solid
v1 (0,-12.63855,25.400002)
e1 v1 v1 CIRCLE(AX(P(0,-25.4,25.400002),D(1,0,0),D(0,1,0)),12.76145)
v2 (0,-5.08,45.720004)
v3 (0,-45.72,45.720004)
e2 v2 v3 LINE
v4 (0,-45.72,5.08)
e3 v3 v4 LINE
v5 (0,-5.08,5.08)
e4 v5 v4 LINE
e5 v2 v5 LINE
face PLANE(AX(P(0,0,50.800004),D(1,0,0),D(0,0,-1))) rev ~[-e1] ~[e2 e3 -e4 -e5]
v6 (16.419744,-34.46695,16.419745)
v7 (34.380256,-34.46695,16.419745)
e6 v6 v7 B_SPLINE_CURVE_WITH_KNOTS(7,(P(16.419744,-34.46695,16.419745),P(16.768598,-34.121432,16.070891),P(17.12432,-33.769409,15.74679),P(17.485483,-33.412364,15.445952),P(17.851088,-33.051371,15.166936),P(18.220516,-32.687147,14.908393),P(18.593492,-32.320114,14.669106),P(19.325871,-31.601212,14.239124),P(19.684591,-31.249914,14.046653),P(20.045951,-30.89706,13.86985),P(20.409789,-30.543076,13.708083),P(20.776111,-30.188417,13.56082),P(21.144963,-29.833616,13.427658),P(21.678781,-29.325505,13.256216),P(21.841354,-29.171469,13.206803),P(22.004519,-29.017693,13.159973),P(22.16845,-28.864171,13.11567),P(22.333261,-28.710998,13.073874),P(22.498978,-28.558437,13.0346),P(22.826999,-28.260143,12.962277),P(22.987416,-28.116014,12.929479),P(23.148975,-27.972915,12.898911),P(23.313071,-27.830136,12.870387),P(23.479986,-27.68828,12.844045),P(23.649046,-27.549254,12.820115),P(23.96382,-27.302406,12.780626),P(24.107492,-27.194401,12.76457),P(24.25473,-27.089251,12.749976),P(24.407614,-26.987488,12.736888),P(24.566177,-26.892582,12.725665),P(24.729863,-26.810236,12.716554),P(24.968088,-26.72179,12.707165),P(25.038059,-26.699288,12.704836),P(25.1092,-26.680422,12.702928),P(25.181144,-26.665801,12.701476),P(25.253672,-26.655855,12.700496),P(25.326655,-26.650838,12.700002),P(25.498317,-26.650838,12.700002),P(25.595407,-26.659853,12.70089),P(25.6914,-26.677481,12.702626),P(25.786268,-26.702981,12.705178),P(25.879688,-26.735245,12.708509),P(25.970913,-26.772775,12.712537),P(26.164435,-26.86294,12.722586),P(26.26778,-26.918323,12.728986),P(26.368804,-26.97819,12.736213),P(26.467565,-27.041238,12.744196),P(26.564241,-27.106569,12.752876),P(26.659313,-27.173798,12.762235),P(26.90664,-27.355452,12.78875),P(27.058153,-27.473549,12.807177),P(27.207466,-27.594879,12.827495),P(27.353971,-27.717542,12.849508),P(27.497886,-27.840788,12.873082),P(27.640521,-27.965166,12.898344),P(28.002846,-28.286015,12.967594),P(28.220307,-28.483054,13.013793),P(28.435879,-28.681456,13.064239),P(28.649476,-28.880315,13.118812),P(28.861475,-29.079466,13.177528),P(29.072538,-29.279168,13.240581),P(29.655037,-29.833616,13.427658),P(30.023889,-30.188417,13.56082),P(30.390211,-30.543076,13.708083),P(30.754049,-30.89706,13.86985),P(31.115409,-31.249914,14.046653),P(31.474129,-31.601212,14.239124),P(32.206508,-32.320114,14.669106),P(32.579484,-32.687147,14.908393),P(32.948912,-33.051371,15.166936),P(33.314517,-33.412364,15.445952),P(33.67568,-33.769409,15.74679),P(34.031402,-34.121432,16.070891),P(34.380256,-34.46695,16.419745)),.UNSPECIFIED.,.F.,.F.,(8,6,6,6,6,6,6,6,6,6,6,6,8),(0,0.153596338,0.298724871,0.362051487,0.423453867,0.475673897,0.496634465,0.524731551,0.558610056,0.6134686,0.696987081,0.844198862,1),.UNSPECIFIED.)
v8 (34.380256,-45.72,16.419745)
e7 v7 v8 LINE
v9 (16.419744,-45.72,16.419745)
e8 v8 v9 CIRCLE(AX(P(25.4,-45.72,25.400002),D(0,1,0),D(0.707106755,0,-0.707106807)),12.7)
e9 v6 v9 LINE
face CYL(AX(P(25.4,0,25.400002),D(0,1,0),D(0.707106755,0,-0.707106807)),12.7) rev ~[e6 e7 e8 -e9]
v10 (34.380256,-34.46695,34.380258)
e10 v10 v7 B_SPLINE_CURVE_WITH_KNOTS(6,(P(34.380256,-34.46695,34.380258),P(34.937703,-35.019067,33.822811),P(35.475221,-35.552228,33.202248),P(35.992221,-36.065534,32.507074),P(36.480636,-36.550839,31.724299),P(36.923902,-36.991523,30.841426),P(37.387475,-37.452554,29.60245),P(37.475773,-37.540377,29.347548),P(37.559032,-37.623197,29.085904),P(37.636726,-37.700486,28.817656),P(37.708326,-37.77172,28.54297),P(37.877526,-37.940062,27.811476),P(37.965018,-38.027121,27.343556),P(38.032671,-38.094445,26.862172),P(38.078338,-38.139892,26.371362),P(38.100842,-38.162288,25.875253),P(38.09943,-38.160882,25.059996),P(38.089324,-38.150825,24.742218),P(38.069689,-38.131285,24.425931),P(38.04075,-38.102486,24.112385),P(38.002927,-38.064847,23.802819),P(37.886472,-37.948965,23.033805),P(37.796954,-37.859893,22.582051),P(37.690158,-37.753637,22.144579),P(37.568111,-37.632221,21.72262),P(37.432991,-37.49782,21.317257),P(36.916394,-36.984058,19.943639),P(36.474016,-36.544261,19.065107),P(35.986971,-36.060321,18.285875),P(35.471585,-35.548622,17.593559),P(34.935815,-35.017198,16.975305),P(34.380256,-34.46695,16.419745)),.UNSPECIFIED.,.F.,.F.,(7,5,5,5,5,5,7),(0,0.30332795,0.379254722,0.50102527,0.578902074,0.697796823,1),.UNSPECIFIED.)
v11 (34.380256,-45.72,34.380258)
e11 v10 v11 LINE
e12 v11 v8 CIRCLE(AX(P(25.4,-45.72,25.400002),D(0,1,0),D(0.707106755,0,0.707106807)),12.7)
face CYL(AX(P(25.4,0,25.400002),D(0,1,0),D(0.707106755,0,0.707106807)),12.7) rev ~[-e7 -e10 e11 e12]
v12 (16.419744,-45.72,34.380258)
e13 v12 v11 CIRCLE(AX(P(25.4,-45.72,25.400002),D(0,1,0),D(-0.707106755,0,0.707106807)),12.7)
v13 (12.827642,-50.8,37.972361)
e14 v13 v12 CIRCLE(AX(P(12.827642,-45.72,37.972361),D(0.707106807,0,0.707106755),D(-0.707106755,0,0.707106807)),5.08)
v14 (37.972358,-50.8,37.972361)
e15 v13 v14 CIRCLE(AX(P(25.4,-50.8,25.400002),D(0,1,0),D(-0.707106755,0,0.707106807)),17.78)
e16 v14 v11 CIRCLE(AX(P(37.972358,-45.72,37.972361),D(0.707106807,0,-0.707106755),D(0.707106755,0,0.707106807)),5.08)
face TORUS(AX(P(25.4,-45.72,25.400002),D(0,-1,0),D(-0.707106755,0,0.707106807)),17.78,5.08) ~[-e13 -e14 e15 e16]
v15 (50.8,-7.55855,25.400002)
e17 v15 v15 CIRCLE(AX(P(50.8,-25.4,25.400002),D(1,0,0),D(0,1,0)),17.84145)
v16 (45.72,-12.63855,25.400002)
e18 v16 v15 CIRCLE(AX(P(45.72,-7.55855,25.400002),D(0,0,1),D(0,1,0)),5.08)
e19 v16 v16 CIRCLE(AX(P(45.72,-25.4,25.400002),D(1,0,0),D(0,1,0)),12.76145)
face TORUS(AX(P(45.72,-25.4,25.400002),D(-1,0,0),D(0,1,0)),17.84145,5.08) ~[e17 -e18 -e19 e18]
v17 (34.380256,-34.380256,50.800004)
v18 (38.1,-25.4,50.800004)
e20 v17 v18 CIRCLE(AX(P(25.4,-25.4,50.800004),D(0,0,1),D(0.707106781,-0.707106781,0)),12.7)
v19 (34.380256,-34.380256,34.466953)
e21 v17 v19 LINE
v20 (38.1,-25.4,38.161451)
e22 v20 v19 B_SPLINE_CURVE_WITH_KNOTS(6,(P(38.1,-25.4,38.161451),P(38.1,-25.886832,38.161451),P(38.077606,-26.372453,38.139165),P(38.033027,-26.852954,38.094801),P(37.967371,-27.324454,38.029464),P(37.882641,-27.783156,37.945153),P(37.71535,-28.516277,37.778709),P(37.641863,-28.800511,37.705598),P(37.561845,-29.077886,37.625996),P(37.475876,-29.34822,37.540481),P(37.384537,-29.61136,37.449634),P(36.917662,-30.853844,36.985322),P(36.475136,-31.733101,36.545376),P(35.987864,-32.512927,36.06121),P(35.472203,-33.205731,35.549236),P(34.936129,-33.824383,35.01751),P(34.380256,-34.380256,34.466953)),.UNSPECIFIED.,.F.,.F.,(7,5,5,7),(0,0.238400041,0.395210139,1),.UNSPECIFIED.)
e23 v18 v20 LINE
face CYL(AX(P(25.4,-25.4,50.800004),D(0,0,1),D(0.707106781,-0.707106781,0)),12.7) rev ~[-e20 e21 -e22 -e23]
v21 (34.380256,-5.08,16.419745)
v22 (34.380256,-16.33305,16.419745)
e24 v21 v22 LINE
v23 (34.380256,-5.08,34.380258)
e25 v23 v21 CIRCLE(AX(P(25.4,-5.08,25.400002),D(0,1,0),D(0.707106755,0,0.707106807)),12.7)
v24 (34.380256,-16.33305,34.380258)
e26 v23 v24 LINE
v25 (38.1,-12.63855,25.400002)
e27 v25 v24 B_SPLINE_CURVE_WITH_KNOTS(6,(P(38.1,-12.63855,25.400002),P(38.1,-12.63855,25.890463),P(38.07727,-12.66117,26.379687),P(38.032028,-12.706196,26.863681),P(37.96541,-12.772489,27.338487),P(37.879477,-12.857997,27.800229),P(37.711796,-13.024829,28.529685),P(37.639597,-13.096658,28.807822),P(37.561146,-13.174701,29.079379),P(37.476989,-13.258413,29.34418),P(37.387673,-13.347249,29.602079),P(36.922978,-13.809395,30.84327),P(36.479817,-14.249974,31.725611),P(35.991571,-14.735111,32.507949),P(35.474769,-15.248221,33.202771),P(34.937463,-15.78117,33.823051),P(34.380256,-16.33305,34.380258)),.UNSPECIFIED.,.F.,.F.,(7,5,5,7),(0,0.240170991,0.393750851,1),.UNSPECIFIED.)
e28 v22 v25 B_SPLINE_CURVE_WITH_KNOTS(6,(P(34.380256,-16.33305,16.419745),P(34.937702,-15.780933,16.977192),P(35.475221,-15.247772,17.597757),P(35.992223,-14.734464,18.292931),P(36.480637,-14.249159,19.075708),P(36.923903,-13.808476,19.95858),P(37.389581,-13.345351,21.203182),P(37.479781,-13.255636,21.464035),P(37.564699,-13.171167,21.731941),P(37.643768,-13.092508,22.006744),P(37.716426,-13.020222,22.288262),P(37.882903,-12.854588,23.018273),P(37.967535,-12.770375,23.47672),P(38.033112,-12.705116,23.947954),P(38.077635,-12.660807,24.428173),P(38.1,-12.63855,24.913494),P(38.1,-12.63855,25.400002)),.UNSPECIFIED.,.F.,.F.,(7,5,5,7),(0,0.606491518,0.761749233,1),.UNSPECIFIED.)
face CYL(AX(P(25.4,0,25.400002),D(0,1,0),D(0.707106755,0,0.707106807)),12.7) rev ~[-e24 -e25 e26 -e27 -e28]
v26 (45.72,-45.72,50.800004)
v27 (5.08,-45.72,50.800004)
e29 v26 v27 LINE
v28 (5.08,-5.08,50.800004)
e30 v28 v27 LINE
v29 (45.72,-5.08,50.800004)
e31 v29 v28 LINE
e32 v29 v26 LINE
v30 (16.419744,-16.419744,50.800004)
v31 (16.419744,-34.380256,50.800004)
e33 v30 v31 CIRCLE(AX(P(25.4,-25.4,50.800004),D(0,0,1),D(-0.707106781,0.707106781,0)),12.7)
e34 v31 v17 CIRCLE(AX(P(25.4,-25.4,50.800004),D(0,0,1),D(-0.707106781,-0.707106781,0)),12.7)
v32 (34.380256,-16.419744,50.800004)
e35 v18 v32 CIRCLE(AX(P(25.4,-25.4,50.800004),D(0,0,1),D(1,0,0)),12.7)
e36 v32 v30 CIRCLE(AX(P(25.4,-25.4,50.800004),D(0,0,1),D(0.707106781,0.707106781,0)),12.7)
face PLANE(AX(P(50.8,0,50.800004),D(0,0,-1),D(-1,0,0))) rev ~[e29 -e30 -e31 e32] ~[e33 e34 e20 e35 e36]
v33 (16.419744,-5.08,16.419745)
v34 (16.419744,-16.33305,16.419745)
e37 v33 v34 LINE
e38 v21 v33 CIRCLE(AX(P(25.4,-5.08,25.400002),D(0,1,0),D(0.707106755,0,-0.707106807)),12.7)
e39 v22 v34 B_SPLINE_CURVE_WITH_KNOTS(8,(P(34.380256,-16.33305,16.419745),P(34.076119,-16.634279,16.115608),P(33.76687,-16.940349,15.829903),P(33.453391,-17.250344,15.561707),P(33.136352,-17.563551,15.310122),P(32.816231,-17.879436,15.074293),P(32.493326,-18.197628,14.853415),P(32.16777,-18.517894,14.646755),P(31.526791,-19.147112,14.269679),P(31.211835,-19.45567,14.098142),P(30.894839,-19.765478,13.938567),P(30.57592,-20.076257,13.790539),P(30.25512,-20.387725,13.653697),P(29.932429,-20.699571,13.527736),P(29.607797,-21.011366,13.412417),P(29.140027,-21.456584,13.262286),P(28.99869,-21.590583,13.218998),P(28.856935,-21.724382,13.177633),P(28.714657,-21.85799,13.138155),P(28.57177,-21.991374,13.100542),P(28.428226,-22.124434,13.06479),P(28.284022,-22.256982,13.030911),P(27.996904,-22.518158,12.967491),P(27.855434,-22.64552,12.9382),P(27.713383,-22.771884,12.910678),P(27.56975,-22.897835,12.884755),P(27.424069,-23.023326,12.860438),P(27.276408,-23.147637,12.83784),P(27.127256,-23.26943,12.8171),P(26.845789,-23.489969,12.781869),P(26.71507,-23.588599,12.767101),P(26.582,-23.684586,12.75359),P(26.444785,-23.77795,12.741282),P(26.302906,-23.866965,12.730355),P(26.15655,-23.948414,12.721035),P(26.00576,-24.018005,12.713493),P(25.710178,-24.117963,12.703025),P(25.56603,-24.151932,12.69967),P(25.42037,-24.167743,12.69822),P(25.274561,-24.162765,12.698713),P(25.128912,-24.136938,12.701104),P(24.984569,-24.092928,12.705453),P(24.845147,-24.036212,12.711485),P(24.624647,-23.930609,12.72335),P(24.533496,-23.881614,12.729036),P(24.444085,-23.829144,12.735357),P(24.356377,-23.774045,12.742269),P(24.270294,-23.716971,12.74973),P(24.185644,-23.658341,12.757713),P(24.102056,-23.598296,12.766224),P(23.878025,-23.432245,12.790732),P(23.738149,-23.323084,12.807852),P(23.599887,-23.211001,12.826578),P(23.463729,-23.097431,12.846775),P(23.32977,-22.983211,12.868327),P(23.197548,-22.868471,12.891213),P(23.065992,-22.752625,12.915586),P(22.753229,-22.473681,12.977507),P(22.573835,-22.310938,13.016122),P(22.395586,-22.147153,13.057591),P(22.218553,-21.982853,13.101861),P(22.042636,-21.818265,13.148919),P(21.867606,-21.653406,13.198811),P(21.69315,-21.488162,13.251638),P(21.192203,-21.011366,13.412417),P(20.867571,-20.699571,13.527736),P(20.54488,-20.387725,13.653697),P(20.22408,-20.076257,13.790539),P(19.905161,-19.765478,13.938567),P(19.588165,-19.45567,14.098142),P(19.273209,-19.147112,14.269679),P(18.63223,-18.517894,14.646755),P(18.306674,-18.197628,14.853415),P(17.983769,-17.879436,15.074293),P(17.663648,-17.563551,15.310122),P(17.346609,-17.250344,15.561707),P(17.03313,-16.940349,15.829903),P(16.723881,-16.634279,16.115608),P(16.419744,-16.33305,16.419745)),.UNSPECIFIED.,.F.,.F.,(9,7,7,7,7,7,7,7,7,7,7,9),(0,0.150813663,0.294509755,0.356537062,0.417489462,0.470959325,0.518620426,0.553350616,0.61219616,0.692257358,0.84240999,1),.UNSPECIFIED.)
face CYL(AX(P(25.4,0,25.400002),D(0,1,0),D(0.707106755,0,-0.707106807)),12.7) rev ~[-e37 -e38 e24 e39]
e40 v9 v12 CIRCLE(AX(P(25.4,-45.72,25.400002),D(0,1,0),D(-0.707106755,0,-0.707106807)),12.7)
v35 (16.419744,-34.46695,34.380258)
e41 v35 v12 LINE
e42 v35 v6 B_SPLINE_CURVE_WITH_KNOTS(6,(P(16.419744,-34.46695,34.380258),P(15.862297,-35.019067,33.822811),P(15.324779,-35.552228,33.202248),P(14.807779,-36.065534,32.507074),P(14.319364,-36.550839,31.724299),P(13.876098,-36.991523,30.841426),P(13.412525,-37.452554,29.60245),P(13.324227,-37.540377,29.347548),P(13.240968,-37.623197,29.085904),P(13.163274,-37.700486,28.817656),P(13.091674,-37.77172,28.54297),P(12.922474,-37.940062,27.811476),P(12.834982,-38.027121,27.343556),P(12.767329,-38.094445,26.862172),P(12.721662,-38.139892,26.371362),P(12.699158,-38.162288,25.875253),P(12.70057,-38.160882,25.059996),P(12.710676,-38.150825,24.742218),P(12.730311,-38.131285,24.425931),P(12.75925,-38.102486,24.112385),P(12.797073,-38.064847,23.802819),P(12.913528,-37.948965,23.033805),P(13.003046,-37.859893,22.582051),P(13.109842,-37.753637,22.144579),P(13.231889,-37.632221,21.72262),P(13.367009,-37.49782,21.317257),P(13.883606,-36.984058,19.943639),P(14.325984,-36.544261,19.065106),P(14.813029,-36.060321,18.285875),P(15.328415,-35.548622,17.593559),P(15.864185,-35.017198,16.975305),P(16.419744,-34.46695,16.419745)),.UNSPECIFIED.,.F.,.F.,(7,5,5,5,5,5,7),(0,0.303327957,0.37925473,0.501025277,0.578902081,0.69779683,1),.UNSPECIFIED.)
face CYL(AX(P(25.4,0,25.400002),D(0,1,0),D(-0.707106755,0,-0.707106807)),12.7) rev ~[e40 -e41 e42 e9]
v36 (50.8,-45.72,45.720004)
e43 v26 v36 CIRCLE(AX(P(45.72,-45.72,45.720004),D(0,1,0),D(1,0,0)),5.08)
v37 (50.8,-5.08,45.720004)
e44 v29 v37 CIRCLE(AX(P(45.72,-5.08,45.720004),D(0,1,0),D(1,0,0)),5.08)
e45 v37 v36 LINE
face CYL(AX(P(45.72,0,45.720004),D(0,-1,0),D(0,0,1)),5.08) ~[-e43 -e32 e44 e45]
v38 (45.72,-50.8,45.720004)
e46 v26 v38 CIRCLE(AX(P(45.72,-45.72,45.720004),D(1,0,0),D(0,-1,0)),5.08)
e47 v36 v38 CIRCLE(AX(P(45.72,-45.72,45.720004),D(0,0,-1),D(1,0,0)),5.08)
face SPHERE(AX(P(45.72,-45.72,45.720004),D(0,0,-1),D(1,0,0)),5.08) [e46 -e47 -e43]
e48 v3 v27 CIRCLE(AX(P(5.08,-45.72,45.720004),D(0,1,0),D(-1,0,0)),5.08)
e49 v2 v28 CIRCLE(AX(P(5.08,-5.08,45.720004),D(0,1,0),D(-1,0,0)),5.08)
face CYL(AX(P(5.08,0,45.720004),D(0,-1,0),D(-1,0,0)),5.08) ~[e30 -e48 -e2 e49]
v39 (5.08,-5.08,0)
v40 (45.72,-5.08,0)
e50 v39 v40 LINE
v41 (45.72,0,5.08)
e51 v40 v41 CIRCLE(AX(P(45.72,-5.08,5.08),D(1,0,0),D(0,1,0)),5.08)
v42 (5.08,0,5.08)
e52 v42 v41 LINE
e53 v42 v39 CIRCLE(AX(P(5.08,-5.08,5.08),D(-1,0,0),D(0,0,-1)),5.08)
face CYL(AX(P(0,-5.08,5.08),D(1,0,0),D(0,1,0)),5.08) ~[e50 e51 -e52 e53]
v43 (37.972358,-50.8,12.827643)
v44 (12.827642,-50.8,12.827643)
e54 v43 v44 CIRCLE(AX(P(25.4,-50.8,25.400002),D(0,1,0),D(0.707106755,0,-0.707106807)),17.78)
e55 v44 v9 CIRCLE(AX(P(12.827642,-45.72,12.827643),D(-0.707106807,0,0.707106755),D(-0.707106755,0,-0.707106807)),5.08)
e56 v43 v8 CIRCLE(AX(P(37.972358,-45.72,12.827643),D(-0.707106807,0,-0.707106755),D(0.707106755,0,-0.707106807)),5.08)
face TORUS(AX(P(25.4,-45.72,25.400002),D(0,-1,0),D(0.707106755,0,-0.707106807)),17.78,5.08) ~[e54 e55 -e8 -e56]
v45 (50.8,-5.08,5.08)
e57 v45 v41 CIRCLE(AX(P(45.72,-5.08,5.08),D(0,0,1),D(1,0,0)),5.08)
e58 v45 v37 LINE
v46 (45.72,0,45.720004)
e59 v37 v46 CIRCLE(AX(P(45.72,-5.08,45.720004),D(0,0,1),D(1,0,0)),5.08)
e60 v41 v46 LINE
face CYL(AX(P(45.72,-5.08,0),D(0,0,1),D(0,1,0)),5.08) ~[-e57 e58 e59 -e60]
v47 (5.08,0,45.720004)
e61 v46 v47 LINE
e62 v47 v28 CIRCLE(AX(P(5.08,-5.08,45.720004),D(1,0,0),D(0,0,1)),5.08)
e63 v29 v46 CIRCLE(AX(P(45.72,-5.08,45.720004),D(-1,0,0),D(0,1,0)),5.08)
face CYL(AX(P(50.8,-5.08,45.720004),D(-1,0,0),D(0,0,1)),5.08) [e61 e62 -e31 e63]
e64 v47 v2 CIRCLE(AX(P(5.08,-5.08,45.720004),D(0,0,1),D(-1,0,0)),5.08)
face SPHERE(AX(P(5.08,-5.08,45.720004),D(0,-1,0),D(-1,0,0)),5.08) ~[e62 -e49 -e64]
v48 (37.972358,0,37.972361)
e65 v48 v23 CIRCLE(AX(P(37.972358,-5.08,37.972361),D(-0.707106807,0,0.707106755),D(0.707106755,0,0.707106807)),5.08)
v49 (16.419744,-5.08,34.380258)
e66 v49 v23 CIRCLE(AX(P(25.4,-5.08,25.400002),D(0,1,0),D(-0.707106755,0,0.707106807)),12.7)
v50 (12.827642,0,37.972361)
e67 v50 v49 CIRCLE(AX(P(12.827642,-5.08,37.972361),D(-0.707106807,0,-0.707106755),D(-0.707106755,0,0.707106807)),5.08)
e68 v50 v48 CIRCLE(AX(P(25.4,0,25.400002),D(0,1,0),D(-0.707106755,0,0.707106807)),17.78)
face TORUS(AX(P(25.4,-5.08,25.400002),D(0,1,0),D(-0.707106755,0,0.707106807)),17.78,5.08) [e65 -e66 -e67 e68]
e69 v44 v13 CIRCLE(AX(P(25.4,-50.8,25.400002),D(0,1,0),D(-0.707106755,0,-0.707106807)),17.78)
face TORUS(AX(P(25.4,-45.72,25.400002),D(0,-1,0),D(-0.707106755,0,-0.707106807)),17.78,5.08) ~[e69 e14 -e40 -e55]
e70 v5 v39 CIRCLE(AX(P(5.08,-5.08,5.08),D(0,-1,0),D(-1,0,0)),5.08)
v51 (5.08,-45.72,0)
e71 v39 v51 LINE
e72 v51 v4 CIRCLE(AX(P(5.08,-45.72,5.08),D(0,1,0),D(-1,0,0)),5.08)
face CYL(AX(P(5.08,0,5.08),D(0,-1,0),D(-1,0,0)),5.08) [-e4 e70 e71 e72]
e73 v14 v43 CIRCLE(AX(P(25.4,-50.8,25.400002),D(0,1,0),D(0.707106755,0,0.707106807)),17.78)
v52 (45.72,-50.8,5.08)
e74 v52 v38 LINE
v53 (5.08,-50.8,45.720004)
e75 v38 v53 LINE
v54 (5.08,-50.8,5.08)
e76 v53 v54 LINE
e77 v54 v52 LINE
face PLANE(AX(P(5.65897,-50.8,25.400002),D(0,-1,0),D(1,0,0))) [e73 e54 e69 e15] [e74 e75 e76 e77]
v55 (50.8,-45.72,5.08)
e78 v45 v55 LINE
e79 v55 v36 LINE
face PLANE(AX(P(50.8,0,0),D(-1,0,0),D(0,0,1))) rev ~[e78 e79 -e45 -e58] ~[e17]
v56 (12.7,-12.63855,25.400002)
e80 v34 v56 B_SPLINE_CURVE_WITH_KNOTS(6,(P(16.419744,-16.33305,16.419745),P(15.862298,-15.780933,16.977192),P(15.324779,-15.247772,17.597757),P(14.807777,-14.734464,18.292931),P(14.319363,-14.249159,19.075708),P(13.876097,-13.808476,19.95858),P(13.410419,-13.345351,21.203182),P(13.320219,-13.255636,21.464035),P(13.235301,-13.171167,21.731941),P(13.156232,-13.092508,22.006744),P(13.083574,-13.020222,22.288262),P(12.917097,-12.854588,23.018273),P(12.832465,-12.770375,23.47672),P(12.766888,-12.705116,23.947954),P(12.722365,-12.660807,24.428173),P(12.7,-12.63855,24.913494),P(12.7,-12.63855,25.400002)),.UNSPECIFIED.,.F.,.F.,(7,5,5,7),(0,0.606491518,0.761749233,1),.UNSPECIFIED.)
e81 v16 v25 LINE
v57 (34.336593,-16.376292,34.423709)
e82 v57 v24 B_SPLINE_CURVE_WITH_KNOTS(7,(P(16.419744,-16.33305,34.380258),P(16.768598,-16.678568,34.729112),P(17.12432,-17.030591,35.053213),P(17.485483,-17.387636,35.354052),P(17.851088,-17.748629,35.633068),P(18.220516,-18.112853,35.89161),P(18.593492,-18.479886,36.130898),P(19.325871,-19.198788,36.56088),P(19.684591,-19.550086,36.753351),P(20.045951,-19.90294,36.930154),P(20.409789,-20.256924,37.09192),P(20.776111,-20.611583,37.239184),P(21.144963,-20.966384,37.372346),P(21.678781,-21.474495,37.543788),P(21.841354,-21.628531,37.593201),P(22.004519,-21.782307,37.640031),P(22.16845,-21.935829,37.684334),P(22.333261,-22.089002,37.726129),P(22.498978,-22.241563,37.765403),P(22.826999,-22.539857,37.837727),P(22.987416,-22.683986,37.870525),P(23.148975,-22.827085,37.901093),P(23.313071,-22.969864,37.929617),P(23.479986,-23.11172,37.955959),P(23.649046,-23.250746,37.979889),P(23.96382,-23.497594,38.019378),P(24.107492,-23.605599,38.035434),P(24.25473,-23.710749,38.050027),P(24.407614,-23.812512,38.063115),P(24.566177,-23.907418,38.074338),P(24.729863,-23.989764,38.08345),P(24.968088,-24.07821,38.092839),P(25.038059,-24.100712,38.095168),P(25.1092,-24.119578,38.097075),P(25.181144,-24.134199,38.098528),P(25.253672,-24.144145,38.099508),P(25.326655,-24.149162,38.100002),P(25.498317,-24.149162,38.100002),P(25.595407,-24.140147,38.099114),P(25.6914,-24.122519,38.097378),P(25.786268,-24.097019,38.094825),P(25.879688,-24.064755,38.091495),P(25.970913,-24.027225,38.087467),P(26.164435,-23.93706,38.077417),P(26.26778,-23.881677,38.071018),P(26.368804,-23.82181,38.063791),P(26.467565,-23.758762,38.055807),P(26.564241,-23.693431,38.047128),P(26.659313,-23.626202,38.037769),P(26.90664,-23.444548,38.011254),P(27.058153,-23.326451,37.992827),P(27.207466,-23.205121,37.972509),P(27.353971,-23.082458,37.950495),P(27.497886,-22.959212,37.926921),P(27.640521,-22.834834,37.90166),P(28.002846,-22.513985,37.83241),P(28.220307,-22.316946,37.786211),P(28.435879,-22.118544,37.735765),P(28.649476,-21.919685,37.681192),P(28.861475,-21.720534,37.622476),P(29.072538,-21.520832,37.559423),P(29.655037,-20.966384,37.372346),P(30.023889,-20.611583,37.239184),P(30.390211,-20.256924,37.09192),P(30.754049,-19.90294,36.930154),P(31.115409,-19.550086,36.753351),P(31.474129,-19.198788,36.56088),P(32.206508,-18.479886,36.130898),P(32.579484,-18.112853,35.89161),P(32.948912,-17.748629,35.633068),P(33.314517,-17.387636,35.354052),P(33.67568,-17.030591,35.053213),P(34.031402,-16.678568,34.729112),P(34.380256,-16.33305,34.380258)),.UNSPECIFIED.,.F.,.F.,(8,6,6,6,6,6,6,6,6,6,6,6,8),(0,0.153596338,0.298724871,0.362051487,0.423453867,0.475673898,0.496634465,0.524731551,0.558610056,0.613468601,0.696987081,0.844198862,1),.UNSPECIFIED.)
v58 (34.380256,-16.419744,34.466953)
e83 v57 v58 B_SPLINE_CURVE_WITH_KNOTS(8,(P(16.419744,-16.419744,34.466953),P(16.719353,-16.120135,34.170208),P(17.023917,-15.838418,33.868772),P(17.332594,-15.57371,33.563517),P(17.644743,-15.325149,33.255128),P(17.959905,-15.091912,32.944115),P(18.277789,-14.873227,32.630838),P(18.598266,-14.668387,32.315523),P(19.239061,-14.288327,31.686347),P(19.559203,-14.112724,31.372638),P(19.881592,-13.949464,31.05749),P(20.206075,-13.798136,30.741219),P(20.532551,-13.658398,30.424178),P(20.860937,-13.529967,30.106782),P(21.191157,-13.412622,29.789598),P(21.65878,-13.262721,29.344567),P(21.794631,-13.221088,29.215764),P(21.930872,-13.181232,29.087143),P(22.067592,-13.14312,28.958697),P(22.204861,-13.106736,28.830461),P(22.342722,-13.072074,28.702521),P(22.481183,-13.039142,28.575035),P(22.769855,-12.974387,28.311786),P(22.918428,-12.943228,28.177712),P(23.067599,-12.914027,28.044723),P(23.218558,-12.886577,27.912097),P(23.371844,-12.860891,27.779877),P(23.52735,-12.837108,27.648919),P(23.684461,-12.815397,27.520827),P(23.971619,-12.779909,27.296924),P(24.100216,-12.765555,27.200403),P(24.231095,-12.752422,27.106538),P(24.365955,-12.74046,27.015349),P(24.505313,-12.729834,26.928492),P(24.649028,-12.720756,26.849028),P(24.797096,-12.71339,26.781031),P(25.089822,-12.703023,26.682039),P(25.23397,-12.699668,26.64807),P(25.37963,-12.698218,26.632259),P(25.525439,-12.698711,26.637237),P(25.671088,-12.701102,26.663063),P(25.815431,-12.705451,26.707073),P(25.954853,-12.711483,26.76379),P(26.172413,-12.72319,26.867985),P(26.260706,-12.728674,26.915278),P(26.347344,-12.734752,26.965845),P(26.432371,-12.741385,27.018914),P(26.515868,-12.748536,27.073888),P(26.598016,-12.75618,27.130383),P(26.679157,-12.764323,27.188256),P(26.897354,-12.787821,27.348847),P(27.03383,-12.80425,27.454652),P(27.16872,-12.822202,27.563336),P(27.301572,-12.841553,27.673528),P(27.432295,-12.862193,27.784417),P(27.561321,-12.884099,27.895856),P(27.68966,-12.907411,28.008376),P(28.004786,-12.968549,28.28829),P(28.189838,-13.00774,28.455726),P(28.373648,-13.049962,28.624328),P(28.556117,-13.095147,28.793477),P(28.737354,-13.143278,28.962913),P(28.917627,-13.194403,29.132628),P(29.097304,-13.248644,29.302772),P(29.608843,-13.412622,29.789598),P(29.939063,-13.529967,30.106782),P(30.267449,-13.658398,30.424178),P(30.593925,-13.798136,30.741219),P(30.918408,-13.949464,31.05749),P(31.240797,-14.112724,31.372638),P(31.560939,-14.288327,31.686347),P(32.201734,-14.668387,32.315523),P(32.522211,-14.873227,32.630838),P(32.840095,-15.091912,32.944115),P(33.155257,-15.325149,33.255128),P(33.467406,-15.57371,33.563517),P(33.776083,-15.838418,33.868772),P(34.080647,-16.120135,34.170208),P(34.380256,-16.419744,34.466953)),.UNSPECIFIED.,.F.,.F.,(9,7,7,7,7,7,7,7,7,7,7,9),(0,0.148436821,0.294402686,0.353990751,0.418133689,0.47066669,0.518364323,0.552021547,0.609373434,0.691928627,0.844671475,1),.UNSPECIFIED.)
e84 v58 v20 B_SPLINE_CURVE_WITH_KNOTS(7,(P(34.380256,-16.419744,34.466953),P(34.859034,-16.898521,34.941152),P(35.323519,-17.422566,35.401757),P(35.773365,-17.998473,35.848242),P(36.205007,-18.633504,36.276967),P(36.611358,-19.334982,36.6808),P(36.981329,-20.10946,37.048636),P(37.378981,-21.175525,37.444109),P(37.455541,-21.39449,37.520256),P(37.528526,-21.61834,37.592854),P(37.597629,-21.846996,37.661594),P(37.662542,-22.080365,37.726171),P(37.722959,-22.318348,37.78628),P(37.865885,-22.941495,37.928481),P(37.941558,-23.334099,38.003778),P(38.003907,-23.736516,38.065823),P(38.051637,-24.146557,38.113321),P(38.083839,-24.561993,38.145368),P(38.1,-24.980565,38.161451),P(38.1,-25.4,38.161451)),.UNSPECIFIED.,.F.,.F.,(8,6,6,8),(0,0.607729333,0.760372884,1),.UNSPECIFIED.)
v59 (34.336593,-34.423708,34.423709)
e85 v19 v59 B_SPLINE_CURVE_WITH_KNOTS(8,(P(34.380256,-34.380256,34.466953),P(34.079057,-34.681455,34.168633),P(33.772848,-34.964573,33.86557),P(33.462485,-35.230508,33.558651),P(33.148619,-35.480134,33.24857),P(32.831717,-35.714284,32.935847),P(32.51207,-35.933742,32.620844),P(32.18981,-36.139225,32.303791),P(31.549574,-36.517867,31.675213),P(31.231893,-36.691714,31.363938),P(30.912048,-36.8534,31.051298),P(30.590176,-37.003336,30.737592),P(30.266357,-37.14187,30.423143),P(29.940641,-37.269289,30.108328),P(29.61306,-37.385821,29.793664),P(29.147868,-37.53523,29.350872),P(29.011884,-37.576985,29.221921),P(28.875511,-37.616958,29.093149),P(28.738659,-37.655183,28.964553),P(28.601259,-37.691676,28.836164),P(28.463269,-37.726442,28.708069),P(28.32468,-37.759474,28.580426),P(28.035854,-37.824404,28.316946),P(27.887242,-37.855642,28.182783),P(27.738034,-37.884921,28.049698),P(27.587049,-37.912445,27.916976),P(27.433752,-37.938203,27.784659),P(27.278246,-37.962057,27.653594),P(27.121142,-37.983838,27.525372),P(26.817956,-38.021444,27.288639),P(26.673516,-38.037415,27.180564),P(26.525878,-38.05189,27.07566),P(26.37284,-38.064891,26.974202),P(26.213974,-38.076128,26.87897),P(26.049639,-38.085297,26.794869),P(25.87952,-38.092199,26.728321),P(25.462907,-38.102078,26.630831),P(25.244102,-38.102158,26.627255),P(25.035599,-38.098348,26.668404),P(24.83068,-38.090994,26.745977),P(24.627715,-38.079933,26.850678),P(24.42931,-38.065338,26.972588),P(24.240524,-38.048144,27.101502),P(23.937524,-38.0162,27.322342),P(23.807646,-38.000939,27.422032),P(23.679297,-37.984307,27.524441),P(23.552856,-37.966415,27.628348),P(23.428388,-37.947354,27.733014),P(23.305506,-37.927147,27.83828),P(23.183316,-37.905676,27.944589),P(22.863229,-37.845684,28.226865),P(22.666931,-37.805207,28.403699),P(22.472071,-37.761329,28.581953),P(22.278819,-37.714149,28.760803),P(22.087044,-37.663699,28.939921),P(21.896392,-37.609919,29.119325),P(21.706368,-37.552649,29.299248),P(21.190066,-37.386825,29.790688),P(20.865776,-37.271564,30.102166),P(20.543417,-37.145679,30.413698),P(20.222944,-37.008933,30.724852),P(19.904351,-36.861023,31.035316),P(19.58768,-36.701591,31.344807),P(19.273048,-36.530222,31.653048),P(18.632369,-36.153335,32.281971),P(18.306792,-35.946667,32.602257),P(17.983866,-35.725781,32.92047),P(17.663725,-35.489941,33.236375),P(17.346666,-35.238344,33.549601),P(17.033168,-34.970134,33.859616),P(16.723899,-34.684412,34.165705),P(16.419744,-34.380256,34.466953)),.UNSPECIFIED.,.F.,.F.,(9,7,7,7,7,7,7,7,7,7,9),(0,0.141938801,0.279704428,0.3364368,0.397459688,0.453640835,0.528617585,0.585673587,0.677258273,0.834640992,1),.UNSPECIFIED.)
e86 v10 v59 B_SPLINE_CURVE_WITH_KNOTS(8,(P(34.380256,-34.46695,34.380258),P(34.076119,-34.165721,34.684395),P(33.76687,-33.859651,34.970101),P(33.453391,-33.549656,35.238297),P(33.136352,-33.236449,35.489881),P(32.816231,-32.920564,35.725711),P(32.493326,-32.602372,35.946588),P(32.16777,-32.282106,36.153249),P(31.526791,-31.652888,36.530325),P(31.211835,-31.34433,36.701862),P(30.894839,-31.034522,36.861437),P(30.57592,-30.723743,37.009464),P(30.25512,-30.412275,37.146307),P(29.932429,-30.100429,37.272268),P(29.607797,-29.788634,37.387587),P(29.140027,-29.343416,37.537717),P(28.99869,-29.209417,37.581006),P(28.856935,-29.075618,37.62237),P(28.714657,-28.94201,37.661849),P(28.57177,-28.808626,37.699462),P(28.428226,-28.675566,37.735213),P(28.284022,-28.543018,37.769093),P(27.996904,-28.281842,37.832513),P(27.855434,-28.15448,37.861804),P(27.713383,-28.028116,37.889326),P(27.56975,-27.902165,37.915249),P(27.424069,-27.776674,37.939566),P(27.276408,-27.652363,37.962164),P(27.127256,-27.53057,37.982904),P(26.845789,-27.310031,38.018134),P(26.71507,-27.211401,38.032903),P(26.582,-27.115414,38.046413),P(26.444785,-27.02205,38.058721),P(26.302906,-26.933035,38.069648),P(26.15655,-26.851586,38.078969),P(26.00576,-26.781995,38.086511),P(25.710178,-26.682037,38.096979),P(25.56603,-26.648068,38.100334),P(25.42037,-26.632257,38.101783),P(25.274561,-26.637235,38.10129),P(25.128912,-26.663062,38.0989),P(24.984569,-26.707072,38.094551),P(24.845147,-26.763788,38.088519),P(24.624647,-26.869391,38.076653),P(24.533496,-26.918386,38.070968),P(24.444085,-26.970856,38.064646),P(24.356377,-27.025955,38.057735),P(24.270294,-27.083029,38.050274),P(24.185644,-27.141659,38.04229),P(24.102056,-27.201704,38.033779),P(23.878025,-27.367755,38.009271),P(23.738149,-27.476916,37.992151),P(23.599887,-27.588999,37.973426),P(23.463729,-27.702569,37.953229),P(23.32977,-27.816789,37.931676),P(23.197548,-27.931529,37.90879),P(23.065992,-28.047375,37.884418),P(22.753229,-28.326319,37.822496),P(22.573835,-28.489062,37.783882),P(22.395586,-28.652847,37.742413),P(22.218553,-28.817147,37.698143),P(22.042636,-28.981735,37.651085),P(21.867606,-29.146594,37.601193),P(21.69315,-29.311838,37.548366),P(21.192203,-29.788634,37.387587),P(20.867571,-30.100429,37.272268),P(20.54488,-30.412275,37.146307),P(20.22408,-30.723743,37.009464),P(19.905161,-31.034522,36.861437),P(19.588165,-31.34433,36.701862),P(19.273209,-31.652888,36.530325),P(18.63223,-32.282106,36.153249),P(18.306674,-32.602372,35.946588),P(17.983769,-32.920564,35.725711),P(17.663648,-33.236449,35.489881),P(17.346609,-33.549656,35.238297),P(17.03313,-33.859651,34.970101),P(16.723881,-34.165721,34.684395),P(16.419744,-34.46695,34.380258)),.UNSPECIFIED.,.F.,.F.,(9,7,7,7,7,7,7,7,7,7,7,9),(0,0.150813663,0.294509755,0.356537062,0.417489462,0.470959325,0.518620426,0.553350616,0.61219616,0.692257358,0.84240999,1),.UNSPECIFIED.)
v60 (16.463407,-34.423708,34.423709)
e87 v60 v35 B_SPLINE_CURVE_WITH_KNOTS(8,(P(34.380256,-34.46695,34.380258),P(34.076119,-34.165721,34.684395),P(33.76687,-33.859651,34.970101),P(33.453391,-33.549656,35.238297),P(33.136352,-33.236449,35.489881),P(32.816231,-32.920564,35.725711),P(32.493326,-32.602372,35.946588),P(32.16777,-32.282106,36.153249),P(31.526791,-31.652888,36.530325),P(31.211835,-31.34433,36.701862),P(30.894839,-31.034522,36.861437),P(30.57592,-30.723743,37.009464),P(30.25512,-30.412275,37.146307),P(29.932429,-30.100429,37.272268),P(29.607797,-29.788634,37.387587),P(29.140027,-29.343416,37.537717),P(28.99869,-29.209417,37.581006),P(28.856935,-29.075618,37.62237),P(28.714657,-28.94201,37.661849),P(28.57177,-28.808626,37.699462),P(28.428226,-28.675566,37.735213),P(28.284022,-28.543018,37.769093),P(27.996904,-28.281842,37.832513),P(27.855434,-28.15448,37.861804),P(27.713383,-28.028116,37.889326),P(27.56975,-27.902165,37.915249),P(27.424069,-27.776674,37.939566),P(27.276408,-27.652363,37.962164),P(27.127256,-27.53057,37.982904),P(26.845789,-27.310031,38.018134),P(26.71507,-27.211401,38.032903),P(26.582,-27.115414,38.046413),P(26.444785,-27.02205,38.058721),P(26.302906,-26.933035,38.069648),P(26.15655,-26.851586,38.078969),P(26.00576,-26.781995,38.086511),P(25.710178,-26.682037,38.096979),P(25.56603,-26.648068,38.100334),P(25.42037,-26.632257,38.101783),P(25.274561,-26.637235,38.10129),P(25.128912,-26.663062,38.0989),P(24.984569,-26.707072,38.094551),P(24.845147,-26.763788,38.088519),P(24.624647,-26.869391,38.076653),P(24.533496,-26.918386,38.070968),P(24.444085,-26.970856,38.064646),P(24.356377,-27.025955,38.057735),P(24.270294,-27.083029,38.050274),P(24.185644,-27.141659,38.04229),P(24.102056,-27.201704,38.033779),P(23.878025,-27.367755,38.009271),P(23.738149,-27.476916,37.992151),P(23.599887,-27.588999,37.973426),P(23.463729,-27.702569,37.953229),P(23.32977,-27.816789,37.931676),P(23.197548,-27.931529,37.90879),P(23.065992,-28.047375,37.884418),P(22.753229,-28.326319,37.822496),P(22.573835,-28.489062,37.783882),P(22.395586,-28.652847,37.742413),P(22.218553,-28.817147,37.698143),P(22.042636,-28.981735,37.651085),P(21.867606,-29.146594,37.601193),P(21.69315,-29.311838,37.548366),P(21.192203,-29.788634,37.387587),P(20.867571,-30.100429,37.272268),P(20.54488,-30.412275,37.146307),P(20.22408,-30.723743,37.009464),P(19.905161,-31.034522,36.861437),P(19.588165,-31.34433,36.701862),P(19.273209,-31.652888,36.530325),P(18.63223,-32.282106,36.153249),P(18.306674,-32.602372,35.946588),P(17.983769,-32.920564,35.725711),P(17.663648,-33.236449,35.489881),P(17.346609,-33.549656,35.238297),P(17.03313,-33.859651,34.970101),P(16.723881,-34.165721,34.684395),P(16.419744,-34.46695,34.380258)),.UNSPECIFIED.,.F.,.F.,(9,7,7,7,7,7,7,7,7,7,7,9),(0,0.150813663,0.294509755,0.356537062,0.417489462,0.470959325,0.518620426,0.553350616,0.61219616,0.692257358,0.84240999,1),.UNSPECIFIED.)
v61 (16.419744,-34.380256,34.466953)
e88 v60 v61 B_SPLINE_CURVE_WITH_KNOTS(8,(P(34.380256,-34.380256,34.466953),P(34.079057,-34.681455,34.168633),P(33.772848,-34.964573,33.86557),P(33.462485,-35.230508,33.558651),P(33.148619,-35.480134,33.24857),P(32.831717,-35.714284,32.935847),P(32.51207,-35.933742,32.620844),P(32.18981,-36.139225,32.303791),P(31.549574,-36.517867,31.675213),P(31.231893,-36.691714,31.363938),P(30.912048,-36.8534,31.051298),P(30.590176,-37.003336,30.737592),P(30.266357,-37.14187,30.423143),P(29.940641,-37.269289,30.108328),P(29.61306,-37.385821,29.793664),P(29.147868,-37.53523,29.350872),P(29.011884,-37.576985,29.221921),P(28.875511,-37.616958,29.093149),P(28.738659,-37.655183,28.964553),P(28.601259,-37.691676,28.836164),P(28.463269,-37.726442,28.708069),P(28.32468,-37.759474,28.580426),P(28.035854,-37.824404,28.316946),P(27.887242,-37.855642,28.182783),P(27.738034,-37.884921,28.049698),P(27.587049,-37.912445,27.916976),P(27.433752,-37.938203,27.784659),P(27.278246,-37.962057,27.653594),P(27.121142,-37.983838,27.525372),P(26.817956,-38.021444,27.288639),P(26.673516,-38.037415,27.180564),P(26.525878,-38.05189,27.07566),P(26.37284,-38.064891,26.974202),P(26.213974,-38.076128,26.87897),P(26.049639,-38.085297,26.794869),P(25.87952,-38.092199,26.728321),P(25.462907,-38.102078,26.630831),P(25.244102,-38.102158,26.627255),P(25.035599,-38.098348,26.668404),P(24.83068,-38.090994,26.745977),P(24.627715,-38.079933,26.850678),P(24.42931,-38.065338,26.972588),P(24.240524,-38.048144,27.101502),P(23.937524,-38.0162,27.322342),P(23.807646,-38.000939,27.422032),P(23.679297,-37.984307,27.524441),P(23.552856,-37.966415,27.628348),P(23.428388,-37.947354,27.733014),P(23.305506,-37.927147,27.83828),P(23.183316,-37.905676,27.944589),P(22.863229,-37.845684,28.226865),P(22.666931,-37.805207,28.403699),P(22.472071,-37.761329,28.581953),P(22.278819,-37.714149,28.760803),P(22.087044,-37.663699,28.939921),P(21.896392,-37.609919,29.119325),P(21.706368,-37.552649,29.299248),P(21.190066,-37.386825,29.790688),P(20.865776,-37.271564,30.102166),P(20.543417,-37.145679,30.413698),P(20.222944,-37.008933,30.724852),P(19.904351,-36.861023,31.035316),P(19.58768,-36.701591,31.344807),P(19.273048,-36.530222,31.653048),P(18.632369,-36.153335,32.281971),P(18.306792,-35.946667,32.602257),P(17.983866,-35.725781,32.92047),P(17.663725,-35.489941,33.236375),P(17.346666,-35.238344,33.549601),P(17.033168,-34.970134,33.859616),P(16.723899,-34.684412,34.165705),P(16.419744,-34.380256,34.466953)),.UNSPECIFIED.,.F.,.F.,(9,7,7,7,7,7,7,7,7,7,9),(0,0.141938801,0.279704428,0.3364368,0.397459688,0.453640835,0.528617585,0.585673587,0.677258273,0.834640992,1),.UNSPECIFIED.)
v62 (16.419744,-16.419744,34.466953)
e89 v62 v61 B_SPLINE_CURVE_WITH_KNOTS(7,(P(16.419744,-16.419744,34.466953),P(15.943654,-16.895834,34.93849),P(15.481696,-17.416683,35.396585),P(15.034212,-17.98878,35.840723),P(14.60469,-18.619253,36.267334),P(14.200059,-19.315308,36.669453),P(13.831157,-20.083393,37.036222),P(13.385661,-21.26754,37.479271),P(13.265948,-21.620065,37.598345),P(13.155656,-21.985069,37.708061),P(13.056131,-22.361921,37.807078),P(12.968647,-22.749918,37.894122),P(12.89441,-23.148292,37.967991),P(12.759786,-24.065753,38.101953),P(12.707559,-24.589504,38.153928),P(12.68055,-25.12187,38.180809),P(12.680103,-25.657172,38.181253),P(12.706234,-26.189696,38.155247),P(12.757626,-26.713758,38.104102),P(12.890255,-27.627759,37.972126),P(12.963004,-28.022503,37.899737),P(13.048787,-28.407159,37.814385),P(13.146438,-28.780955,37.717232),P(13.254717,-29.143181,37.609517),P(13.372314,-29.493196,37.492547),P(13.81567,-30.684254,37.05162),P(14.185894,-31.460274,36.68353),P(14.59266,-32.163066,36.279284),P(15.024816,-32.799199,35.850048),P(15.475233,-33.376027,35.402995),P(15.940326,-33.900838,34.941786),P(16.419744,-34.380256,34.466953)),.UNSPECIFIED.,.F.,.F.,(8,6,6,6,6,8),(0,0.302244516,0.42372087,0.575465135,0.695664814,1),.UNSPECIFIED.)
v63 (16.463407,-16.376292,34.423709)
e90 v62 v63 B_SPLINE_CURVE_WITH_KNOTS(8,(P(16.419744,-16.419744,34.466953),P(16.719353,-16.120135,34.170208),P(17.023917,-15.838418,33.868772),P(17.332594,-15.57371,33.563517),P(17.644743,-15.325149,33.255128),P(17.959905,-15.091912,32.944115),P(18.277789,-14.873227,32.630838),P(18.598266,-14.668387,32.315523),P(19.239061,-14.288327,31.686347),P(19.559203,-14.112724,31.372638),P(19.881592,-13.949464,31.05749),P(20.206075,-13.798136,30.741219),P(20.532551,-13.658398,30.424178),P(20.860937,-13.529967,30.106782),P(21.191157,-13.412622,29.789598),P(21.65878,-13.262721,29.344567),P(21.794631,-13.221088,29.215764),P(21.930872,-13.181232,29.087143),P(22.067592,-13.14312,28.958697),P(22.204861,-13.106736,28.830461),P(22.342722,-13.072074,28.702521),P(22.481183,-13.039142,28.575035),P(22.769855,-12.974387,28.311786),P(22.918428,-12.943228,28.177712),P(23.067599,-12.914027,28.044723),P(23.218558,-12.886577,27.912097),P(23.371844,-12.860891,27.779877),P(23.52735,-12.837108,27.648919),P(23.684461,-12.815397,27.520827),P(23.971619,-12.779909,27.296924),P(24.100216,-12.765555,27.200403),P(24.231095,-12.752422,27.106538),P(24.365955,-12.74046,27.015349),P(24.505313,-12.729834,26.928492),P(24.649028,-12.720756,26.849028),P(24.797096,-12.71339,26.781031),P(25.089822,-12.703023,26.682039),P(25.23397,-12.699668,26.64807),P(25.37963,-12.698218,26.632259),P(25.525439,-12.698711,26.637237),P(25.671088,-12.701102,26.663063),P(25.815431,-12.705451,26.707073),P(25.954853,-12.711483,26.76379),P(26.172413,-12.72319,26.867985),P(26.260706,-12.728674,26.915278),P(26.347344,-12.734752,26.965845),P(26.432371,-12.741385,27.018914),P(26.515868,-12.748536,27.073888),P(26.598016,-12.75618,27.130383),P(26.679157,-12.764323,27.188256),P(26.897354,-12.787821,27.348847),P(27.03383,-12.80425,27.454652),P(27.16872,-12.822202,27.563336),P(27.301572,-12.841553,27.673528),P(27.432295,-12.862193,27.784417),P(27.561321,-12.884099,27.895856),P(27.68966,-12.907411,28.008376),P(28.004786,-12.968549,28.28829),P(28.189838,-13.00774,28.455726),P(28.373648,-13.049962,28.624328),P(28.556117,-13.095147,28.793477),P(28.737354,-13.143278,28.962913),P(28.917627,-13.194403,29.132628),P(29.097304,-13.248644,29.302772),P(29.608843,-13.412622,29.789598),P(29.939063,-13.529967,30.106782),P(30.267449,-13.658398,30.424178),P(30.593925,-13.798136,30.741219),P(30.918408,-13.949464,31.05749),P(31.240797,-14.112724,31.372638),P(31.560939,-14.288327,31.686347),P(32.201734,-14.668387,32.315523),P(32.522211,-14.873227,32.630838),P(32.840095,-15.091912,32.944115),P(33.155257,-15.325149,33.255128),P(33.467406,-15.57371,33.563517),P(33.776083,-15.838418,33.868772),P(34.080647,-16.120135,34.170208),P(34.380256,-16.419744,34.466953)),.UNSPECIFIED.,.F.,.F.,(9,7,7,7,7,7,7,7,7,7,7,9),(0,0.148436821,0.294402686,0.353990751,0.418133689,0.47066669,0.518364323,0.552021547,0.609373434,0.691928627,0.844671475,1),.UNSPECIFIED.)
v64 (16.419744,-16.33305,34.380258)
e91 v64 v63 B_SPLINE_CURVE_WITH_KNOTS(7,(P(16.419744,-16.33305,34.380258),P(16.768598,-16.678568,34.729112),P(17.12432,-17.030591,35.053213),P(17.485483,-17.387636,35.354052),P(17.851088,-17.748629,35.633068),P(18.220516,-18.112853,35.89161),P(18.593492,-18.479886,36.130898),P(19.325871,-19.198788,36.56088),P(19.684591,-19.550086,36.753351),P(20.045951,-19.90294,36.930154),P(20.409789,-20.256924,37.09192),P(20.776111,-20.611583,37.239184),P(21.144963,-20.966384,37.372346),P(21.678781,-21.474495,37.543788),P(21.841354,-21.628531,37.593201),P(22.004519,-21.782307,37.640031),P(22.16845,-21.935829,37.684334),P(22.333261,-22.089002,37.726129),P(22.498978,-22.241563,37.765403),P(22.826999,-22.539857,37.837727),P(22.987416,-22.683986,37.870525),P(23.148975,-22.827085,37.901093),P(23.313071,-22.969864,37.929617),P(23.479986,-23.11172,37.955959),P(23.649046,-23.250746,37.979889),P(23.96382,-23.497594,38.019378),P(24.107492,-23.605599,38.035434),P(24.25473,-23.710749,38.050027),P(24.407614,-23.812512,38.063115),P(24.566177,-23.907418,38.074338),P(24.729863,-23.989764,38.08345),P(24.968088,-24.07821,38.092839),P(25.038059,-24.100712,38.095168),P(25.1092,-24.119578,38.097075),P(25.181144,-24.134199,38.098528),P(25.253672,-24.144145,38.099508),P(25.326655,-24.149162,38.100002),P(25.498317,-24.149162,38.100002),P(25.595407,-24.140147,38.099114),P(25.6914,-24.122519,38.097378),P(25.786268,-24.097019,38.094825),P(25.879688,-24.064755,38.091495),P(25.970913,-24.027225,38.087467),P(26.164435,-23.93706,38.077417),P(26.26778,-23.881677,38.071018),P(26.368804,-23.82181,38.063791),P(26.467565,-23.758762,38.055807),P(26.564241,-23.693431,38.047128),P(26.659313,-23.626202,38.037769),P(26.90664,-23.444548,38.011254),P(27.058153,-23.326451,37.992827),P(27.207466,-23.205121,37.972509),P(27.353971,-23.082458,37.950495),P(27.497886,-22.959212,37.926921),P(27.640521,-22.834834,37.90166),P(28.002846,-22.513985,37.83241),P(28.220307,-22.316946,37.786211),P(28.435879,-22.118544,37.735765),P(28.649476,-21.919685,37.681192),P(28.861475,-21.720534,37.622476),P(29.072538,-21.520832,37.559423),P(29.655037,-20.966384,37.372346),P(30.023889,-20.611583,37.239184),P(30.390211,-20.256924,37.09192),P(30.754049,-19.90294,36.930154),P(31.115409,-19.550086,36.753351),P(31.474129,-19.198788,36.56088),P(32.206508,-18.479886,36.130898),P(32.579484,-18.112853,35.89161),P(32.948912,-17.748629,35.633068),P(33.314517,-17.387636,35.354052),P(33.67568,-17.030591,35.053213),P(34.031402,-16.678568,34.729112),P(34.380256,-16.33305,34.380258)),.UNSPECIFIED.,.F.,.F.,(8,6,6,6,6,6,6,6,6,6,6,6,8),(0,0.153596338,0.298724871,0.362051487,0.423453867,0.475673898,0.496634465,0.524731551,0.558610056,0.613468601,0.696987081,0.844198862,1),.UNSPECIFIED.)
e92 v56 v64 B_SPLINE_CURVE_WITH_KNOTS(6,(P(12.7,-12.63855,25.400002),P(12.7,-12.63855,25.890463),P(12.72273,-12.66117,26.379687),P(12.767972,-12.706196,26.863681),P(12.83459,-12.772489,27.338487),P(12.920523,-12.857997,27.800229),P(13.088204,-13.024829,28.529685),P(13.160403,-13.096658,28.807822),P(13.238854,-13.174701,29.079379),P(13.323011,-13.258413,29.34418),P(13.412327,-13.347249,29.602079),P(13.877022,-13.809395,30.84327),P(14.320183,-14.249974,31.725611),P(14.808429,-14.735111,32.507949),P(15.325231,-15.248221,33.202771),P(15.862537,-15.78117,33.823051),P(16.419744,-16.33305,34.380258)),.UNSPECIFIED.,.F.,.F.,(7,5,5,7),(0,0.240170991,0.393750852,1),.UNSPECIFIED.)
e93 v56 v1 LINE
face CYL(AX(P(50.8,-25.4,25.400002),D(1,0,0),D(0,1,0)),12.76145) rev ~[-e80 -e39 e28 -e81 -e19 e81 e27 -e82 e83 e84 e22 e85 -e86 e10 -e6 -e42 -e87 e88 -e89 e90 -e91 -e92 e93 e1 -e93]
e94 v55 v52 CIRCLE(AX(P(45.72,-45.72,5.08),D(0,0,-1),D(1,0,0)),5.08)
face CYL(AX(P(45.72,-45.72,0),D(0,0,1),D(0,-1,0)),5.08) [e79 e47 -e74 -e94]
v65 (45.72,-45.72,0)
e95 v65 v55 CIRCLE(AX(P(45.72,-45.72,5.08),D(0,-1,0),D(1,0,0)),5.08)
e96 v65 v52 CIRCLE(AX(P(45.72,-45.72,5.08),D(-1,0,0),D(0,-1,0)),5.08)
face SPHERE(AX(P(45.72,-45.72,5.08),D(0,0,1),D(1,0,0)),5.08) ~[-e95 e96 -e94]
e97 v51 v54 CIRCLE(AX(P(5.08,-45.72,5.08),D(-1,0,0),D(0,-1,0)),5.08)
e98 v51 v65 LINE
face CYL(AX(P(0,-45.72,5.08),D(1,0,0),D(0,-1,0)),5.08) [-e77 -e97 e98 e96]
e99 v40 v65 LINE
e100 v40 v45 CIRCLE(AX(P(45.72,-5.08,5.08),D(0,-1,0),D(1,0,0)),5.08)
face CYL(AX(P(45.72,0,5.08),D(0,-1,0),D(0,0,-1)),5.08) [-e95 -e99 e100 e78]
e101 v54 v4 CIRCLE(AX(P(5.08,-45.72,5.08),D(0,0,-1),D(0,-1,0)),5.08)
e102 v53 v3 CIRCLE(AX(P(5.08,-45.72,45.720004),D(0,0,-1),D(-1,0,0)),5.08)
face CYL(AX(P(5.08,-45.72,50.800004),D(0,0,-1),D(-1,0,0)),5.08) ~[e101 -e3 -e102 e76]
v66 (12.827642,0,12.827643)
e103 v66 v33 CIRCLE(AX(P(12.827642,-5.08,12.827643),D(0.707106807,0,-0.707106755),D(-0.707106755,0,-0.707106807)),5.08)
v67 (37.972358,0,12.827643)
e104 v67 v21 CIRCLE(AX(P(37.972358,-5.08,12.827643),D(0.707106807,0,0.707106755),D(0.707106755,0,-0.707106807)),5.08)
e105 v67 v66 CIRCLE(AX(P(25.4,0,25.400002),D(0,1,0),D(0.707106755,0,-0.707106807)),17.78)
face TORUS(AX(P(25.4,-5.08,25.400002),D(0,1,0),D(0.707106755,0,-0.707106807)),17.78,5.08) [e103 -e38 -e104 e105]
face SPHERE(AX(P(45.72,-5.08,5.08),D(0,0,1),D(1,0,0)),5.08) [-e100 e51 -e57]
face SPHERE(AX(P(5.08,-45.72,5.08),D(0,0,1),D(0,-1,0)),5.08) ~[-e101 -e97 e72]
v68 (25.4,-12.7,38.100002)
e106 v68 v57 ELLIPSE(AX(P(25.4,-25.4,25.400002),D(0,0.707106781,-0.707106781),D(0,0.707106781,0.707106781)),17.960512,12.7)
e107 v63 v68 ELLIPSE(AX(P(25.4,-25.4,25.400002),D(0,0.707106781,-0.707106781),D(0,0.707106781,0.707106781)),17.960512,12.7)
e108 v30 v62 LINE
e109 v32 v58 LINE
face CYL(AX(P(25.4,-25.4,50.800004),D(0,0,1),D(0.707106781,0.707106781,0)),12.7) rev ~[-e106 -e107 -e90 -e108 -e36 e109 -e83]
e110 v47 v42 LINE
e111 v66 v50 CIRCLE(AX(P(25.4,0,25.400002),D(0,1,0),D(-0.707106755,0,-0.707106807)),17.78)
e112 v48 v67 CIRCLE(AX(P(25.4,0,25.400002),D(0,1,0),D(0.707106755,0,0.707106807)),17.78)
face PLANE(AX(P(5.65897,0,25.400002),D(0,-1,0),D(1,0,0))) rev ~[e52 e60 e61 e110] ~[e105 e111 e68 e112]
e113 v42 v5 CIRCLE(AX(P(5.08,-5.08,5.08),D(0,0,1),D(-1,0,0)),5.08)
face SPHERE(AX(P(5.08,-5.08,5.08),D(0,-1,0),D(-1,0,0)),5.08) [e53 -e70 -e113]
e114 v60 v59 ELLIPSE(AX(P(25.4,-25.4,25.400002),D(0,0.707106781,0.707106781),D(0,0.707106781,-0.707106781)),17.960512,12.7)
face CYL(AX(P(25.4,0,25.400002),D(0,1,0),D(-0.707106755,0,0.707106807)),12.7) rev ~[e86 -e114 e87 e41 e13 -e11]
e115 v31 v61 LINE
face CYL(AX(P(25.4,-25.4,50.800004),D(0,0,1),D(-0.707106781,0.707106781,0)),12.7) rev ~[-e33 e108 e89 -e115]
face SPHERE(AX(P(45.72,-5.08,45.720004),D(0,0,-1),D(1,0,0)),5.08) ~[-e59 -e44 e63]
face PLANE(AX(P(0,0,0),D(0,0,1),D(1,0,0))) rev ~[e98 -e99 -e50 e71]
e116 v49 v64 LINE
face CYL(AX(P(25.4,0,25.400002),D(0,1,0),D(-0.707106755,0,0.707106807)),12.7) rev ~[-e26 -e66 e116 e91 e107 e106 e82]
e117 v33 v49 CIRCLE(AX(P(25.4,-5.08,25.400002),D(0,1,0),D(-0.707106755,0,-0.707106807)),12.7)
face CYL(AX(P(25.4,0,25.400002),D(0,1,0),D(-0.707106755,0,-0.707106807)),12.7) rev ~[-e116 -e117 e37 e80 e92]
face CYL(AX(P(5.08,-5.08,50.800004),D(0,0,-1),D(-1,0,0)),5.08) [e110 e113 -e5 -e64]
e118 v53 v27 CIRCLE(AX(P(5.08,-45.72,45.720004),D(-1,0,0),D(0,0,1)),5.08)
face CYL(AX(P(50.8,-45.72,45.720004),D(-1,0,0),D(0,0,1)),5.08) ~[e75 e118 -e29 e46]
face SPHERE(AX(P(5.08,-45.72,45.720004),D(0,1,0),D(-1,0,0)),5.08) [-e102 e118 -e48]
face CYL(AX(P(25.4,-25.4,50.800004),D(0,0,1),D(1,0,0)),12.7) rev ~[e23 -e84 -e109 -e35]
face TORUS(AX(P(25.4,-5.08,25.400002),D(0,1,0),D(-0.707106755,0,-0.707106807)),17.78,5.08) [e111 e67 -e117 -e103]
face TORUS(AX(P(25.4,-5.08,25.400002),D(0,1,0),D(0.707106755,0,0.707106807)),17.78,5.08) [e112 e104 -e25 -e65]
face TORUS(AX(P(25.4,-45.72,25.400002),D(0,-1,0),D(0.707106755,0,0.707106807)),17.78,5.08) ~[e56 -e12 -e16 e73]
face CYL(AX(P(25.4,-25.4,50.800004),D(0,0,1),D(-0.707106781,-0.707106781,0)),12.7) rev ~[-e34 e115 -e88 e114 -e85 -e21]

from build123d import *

# Parameters (mm, degrees)
F1_DEPTH = 50.8
F3_R     = 12.7614495694
F4_DEPTH = 50.8
F5_DEPTH = 25.4
F6_R     = 5.08


with BuildPart() as f1:
    # F0 (on Front) → F1 (new body)
    with BuildSketch(Plane.XZ):
        with BuildLine():
            Line((0, 50.8000037167), (0, 0))
            Line((0, 0), (16.4197442074, 16.4197454088))
            ThreePointArc((16.4197442074, 16.4197454088), (12.7, 25.4000018583), (16.4197442074, 34.3802583079))
            Line((16.4197442074, 34.3802583079), (0, 50.8000037167))
        make_face()
        with BuildLine():
            Line((50.8, 50.8000037167), (0, 50.8000037167))
            Line((0, 50.8000037167), (16.4197442074, 34.3802583079))
            ThreePointArc((16.4197442074, 34.3802583079), (25.4, 38.1000018583), (34.3802557926, 34.3802583079))
            Line((34.3802557926, 34.3802583079), (50.8, 50.8000037167))
        make_face()
        with BuildLine():
            Line((34.3802557926, 16.4197454088), (50.8, 0))
            Line((50.8, 0), (50.8, 50.8000037167))
            Line((50.8, 50.8000037167), (34.3802557926, 34.3802583079))
            ThreePointArc((34.3802557926, 34.3802583079), (37.133269974, 30.260081664), (38.1, 25.4000018583))
            ThreePointArc((38.1, 25.4000018583), (37.133269974, 20.5399220527), (34.3802557926, 16.4197454088))
        make_face()
        with BuildLine():
            Line((16.4197442074, 16.4197454088), (0, 0))
            Line((0, 0), (50.8, 0))
            Line((50.8, 0), (34.3802557926, 16.4197454088))
            ThreePointArc((34.3802557926, 16.4197454088), (25.4, 12.7000018583), (16.4197442074, 16.4197454088))
        make_face()
    extrude(amount=F1_DEPTH)

    # F3 (on face) → F4 (cut)
    with BuildSketch(Plane.YZ.offset(50.8)):
        with Locations((-25.4, 25.4000018583)):
            Circle(F3_R)
    extrude(amount=-F4_DEPTH, mode=Mode.SUBTRACT)

    # F2 (on face) → F5 (cut)
    with BuildSketch(Plane.XY.offset(50.8000037167)):
        with BuildLine():
            ThreePointArc((38.1, -25.4), (37.1332700629, -20.539920409), (34.3802561211, -16.4197438789))
            Line((34.3802561211, -16.4197438789), (25.4, -25.4))
            Line((25.4, -25.4), (34.3802561211, -34.3802561211))
            ThreePointArc((34.3802561211, -34.3802561211), (37.1332700629, -30.260079591), (38.1, -25.4))
        make_face()
        with BuildLine():
            Line((25.4, -25.4), (34.3802561211, -16.4197438789))
            ThreePointArc((34.3802561211, -16.4197438789), (25.4, -12.7), (16.4197438789, -16.4197438789))
            Line((16.4197438789, -16.4197438789), (25.4, -25.4))
        make_face()
        with BuildLine():
            Line((34.3802561211, -34.3802561211), (25.4, -25.4))
            Line((25.4, -25.4), (16.4197438789, -34.3802561211))
            ThreePointArc((16.4197438789, -34.3802561211), (25.4, -38.1), (34.3802561211, -34.3802561211))
        make_face()
        with BuildLine():
            Line((16.4197438789, -34.3802561211), (25.4, -25.4))
            Line((25.4, -25.4), (16.4197438789, -16.4197438789))
            ThreePointArc((16.4197438789, -16.4197438789), (12.7, -25.4), (16.4197438789, -34.3802561211))
        make_face()
    extrude(amount=-F5_DEPTH, mode=Mode.SUBTRACT)

    # F6
    f6_edges = [f1.edges().sort_by_distance(p)[0] for p in [
        (0, -25.4, 50.800004),
        (0, -50.8, 25.400002),
        (50.8, -50.8, 25.400002),
        (50.8, 0, 25.400002),
        (50.8, -25.4, 50.800004),
        (50.8, -25.4, 0),
        (50.8, -38.16145, 25.400002),
        (25.4, -50.8, 0),
        (25.4, -50.8, 50.800004),
        (16.419744, -50.8, 34.380258),
        (0, -25.4, 0),
        (0, 0, 25.400002),
        (25.4, 0, 50.800004),
        (25.4, 0, 0),
        (16.419744, 0, 34.380258),
    ]]
    fillet(f6_edges, radius=F6_R)


solid = f1.part
